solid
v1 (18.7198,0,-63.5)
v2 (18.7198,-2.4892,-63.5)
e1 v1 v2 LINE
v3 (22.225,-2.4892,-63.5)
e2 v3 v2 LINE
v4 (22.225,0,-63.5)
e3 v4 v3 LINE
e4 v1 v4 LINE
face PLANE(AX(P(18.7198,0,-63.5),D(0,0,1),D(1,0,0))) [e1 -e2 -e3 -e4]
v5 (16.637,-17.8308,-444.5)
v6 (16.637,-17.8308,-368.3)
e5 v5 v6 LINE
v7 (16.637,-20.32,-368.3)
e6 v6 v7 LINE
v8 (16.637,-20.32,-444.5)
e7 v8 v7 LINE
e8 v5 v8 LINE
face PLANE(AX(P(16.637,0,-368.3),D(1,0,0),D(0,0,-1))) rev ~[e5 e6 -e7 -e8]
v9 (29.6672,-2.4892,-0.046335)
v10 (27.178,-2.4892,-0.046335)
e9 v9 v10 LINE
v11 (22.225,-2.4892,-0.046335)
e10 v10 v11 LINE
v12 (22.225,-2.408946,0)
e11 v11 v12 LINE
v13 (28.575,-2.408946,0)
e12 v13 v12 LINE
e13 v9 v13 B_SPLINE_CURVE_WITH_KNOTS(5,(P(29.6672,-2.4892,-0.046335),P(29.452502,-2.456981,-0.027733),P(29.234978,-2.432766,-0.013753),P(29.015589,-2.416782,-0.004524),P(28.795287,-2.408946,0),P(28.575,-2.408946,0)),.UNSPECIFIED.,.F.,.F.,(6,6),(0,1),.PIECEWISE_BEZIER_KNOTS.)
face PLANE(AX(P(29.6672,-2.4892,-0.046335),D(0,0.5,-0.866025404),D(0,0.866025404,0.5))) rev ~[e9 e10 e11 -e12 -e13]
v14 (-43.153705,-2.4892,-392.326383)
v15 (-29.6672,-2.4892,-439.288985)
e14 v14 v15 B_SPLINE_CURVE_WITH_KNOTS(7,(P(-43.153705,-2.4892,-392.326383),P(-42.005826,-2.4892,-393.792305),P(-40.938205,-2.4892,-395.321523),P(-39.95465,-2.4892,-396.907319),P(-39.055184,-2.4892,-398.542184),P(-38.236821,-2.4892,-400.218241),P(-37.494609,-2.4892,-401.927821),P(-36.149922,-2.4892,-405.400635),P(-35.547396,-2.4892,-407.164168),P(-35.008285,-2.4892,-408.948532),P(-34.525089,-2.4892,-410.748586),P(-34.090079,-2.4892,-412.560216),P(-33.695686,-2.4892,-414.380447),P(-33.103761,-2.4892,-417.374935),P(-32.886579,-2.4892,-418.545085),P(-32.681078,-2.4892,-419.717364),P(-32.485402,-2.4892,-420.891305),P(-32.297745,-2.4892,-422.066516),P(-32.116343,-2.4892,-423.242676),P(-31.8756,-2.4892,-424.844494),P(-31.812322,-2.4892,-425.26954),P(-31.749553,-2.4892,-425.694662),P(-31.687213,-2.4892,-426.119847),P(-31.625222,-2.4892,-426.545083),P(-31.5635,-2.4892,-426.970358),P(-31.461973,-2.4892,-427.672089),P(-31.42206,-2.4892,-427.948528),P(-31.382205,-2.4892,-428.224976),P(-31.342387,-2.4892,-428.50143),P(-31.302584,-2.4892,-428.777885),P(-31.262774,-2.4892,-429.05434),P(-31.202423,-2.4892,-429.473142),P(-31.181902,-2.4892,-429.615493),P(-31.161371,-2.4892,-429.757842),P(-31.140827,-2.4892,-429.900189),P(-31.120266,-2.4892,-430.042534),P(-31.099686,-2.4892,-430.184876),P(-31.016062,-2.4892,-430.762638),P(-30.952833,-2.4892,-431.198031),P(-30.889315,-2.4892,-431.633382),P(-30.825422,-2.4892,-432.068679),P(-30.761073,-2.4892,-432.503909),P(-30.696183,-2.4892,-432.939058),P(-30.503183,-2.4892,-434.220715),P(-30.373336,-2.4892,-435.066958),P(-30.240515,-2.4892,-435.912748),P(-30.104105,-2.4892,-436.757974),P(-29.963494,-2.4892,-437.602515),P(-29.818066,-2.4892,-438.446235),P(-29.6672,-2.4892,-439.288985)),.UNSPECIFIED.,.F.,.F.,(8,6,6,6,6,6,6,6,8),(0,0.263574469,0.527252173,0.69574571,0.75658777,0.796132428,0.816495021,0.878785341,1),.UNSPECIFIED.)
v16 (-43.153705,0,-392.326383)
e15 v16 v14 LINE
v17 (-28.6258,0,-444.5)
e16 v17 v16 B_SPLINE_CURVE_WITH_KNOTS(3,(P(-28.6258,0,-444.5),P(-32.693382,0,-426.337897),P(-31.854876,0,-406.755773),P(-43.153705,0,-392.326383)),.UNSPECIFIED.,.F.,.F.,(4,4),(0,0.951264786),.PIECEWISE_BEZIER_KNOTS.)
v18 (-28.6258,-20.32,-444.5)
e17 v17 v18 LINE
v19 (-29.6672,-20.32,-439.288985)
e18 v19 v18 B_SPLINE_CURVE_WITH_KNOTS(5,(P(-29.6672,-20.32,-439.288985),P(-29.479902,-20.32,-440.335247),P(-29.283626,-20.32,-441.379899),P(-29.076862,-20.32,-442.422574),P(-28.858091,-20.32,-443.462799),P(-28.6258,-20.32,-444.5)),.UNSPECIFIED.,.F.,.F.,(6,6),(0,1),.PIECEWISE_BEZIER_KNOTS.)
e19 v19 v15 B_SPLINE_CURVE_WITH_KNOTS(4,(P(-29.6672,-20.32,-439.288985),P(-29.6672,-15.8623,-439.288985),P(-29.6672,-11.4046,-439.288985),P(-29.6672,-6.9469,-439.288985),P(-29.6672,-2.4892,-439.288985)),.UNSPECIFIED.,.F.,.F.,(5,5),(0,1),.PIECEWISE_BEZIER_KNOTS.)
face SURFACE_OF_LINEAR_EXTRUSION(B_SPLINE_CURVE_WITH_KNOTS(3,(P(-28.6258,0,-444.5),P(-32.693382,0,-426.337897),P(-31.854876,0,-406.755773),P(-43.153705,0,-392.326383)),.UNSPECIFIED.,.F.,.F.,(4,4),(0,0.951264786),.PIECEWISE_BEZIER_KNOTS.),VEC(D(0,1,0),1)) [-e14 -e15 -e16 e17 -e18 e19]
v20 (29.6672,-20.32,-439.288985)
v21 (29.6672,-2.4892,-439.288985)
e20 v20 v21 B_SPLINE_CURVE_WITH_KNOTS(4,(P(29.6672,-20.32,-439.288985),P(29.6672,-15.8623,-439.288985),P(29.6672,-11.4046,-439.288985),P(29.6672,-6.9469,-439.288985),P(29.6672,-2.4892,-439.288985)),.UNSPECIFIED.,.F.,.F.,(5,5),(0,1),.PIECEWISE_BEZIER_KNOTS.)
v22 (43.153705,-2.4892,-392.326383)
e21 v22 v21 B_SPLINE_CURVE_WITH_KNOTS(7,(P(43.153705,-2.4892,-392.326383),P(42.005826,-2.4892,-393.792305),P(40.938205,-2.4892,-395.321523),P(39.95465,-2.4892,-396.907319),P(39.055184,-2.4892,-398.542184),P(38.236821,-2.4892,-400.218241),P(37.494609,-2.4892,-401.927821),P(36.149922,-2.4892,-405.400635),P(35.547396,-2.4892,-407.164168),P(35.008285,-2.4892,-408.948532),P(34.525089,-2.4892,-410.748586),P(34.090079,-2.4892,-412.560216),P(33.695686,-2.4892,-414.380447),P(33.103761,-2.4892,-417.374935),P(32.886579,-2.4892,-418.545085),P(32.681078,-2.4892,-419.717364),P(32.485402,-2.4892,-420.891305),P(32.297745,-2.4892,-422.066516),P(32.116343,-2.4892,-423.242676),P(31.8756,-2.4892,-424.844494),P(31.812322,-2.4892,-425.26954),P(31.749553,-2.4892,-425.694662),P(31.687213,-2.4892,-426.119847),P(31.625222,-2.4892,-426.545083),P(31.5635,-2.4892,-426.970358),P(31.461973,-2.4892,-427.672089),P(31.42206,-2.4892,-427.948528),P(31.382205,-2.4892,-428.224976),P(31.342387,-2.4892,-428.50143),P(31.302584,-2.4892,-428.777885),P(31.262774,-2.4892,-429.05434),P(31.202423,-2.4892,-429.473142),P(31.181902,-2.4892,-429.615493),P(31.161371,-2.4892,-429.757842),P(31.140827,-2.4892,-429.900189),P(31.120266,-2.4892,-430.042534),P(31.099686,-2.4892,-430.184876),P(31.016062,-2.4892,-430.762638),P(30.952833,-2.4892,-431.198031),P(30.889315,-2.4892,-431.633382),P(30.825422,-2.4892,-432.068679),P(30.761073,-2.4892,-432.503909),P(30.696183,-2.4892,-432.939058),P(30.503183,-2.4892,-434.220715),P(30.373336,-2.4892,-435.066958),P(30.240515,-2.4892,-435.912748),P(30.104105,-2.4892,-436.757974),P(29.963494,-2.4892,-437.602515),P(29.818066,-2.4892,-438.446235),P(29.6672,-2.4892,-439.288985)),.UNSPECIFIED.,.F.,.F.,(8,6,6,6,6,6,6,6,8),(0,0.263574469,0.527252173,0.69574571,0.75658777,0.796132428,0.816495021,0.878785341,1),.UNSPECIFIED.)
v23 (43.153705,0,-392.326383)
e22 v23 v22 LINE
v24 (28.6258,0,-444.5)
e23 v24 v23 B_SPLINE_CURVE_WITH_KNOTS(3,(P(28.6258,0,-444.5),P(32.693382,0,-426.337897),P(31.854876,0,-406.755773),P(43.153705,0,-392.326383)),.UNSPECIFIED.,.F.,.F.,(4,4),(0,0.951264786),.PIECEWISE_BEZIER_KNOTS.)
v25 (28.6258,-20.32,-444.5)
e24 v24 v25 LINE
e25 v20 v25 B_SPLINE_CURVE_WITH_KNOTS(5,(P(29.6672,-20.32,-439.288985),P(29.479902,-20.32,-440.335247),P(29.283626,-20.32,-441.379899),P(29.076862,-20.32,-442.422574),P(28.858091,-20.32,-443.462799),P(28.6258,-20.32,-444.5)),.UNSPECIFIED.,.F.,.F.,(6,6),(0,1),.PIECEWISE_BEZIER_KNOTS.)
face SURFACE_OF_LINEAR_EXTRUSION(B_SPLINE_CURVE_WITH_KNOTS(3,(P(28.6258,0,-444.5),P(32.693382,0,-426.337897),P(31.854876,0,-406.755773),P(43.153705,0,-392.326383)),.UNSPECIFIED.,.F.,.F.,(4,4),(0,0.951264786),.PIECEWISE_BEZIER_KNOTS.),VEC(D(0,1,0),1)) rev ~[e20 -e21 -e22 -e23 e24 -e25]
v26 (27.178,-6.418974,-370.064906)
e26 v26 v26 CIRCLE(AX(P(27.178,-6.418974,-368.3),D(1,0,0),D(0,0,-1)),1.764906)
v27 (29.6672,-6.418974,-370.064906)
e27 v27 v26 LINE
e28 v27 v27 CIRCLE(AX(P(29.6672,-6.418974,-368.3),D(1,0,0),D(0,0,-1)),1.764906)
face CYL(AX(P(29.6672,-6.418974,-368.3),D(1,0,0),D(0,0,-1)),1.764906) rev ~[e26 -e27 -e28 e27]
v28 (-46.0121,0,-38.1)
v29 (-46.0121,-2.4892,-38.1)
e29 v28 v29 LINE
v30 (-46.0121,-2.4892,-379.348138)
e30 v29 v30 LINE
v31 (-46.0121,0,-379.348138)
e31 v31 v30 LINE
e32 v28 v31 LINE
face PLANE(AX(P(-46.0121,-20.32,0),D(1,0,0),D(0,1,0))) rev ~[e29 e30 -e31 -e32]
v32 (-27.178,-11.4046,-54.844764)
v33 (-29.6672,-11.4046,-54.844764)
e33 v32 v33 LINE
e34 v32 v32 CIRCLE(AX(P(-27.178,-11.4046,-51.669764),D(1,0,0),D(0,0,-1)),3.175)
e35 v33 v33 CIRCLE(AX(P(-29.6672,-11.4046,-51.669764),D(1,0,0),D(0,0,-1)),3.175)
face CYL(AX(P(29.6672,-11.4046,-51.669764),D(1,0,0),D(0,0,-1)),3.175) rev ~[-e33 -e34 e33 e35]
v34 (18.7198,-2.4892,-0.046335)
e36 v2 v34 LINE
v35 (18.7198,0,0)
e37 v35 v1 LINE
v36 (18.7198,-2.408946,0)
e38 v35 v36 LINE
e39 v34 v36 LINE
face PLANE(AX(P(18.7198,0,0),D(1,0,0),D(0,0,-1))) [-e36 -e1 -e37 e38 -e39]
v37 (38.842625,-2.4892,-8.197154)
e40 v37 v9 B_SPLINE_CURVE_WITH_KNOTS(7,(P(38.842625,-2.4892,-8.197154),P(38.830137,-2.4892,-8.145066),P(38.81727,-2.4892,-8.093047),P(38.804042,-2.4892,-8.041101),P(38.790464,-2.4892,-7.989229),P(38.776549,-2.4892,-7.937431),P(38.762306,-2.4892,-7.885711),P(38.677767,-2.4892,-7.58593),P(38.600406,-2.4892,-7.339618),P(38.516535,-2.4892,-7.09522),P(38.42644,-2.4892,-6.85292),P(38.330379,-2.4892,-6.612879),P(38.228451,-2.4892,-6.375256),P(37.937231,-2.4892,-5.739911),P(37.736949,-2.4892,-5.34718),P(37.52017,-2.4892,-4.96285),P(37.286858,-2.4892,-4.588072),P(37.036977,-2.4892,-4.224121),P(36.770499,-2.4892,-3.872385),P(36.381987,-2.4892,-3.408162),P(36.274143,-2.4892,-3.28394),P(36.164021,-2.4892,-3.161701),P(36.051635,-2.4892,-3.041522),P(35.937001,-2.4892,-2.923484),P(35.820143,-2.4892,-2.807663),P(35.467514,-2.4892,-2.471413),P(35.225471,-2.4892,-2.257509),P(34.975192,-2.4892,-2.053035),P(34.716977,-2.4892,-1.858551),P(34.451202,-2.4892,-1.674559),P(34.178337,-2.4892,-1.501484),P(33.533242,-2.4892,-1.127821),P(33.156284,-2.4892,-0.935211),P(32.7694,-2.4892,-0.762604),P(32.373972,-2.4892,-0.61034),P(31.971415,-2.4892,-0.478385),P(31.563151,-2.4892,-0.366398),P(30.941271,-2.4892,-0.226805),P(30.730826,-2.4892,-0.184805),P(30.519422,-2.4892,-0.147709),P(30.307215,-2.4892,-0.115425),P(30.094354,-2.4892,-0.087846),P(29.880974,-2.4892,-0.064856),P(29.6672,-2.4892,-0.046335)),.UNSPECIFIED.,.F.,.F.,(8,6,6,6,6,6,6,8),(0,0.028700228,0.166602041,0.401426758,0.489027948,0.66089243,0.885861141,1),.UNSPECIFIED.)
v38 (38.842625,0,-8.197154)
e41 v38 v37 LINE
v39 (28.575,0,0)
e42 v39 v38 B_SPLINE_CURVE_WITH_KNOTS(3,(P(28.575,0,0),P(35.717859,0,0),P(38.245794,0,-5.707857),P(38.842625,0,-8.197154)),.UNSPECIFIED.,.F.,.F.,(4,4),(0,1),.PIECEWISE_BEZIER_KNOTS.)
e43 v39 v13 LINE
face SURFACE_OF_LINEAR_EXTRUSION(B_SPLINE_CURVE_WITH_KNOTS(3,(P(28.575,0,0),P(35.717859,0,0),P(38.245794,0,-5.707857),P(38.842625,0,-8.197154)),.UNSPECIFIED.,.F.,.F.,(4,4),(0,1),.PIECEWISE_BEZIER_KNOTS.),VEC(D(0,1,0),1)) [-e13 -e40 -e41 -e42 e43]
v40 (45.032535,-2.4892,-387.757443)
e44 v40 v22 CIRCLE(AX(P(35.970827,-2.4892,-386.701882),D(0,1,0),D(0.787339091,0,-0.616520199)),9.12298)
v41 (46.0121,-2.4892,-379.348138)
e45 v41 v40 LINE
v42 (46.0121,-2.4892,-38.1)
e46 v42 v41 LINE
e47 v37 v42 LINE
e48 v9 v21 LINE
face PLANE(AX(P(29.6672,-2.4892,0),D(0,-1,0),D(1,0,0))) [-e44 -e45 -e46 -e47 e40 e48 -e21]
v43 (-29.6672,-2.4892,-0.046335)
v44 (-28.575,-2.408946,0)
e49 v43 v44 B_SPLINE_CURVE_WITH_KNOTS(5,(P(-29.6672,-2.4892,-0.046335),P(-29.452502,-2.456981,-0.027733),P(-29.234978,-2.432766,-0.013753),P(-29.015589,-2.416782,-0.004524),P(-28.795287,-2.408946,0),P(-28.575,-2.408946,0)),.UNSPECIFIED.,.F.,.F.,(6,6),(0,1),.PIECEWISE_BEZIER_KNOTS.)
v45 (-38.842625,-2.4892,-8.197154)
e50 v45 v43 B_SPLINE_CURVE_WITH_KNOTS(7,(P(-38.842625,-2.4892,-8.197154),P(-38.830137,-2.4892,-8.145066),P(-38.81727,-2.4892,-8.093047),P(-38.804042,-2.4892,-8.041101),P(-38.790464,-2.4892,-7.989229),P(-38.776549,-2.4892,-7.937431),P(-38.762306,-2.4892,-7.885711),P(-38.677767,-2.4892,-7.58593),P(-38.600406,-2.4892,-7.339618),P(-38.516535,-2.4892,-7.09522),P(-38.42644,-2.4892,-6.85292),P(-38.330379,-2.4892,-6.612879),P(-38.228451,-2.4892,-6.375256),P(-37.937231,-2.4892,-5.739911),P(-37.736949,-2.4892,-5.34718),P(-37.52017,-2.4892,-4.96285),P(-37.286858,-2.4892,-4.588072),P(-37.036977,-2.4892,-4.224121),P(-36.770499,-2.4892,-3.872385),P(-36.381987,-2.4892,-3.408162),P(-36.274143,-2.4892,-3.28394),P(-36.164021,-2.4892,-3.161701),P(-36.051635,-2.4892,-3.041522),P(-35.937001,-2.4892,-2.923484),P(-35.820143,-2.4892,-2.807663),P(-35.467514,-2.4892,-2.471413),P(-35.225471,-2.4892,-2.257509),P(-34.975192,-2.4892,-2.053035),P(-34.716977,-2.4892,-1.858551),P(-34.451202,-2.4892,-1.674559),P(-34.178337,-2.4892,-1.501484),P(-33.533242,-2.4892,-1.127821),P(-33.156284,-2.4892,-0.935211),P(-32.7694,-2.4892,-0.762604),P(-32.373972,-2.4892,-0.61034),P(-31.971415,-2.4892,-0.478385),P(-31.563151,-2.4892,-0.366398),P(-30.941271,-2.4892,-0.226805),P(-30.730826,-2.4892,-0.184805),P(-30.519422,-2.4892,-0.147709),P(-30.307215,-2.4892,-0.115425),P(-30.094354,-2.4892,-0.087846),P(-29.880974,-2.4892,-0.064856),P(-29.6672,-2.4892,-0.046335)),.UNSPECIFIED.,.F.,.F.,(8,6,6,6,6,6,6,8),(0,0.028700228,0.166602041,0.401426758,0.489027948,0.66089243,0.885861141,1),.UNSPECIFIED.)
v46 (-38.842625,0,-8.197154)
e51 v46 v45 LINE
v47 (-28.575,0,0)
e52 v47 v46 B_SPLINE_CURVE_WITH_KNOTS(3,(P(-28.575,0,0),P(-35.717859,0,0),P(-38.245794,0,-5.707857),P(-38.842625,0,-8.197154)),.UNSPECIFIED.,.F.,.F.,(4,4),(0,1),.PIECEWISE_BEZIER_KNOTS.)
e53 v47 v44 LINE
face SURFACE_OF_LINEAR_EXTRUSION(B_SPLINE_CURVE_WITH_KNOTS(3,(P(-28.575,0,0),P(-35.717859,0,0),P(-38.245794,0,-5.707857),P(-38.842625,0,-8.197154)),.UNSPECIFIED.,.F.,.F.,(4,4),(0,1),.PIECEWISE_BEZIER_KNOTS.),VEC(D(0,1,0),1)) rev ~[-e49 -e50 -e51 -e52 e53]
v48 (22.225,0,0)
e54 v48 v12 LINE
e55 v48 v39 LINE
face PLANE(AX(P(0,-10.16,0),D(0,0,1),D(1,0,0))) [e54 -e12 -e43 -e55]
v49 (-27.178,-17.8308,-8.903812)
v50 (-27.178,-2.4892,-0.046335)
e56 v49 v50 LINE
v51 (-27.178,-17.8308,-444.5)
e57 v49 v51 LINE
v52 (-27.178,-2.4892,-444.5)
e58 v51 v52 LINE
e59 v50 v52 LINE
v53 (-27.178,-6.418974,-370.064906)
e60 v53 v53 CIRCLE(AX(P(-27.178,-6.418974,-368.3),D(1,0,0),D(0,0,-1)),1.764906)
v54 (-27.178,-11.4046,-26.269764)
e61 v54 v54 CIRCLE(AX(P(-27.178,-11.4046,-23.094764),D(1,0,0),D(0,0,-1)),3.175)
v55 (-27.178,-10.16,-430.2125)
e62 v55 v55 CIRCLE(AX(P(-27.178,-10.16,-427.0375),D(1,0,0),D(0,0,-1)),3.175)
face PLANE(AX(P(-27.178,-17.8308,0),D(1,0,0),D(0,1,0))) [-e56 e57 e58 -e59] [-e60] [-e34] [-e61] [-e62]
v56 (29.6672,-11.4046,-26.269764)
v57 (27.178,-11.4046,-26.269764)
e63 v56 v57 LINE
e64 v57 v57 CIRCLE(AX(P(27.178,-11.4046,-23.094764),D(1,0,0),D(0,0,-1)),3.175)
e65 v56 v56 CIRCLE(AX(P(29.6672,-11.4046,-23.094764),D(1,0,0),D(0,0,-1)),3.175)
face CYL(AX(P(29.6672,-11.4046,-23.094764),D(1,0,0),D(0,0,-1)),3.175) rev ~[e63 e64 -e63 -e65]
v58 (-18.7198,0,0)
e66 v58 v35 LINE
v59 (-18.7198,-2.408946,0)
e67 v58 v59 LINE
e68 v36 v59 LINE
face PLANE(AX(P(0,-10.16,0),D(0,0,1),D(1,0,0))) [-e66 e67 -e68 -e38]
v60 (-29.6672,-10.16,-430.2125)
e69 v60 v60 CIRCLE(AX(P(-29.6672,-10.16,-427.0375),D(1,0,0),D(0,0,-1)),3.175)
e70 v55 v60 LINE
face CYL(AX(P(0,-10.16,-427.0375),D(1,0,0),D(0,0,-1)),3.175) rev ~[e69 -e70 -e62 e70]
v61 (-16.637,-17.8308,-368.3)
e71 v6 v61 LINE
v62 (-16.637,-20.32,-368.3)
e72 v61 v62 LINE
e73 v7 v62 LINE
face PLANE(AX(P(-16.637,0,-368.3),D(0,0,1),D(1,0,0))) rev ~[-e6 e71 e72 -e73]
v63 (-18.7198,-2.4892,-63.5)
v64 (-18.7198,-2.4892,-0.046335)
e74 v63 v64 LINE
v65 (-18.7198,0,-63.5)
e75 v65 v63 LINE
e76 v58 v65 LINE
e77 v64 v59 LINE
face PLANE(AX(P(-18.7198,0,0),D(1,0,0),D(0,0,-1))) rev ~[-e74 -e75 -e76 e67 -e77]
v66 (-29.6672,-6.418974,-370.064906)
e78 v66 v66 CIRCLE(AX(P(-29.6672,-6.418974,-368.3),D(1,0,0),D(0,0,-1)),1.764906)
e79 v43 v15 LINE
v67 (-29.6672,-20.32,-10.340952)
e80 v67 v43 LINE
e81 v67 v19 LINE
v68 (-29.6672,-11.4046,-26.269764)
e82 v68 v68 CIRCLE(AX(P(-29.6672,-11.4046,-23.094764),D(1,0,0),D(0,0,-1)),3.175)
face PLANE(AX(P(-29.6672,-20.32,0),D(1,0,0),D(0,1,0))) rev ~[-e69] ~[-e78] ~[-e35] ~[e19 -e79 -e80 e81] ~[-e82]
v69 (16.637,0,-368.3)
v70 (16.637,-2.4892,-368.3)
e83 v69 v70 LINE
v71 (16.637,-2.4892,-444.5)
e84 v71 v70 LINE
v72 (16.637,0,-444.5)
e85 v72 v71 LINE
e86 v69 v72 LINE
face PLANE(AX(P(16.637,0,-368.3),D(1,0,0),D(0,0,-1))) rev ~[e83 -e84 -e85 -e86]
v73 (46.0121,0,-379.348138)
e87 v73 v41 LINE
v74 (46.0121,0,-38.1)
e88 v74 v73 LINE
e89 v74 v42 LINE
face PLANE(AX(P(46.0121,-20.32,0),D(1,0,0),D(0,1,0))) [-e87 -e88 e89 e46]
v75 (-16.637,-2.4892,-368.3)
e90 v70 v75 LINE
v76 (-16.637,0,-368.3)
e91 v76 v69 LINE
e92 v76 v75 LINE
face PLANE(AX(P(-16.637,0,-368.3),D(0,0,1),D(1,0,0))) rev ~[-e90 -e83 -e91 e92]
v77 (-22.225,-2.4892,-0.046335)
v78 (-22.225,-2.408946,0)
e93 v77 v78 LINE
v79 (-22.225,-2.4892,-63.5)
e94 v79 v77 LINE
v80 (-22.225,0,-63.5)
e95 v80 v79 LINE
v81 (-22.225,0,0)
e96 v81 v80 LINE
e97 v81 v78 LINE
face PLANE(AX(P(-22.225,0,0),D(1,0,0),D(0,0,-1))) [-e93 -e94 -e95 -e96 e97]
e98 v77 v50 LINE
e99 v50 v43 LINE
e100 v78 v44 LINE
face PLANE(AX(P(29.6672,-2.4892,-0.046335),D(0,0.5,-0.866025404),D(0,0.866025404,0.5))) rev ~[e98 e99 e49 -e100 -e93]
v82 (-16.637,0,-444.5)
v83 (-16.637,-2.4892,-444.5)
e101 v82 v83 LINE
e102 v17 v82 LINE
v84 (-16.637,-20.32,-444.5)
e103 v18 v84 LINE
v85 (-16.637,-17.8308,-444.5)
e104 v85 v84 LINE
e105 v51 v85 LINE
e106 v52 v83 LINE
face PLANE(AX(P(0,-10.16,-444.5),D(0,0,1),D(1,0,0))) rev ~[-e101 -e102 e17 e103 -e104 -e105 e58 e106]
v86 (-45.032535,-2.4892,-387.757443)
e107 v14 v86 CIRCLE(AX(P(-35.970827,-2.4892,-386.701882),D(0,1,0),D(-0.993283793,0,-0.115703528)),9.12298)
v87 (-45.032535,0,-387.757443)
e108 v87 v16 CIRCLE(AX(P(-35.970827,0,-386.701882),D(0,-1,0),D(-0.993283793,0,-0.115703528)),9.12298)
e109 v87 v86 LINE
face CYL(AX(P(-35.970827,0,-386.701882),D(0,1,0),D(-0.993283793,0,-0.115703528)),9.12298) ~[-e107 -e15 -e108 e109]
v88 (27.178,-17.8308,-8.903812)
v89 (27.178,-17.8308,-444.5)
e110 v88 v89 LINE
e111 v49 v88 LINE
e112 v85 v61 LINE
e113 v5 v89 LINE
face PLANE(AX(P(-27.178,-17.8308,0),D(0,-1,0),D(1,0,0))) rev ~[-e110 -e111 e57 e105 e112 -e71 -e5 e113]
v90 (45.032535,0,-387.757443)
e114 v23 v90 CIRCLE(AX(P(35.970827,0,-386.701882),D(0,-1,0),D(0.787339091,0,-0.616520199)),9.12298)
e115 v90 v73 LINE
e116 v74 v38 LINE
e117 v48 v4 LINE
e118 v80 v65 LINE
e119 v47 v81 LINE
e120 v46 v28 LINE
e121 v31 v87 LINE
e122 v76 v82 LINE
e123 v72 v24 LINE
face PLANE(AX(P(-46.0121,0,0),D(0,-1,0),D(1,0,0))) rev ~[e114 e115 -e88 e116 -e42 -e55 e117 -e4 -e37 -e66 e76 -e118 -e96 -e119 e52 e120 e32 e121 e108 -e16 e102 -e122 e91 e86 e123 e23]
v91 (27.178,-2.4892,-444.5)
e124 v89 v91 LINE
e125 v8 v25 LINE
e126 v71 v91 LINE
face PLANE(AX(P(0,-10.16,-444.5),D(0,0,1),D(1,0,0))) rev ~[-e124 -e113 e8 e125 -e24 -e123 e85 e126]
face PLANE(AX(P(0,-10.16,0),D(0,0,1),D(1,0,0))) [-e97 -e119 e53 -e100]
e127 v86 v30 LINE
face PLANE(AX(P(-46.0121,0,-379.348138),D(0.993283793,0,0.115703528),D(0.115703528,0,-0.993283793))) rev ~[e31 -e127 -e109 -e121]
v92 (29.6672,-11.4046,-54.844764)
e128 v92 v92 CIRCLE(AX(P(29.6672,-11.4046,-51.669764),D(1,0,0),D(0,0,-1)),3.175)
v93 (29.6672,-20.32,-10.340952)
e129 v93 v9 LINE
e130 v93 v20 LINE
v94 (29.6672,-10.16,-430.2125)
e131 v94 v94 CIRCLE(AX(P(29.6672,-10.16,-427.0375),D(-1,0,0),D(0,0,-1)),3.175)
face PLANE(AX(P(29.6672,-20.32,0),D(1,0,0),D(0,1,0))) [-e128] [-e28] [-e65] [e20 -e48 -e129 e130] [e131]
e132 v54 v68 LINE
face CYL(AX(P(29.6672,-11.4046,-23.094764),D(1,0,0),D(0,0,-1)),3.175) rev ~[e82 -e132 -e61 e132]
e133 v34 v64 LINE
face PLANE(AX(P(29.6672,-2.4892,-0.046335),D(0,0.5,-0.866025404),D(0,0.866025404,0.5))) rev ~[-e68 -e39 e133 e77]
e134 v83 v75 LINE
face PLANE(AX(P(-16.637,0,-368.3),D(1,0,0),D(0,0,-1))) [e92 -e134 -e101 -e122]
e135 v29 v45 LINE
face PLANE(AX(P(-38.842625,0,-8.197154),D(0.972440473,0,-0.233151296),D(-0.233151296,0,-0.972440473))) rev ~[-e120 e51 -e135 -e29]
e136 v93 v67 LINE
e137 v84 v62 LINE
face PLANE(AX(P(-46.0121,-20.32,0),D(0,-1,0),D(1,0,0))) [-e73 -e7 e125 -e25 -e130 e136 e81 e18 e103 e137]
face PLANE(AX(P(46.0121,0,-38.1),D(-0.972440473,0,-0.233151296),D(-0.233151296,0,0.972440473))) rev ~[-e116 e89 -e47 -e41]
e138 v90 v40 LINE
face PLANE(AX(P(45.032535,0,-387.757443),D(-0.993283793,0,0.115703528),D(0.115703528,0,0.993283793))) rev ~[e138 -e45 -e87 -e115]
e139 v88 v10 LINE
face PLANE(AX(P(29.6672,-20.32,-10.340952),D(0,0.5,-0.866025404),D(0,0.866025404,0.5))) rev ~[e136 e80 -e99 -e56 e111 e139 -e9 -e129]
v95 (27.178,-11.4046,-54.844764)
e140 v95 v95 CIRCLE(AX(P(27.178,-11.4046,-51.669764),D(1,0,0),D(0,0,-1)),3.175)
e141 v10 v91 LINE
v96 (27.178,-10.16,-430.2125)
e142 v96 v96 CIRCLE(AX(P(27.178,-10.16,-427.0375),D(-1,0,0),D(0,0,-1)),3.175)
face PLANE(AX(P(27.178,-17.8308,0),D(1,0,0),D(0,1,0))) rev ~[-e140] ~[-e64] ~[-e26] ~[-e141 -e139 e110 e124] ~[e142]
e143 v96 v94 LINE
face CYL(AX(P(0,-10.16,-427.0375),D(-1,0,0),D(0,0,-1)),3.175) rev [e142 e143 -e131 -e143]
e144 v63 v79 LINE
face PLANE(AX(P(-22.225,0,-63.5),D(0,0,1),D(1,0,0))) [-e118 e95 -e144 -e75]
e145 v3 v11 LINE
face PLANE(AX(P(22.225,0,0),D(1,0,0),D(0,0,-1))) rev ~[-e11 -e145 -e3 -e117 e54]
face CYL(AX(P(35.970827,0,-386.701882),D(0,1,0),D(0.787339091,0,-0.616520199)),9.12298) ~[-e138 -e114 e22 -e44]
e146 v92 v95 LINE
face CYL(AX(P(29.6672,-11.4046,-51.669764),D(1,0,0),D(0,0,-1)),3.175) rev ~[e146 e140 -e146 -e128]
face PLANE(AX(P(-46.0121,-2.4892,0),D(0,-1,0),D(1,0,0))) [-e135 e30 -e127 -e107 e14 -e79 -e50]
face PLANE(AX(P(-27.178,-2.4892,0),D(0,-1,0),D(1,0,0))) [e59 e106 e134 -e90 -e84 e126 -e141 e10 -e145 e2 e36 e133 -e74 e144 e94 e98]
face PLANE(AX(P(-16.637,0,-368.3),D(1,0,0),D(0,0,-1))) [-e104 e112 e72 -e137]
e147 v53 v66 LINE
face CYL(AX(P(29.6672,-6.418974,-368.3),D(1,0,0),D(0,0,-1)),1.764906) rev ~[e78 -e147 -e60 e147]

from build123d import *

# Parameters (mm, degrees)
SKETCH1_W               = 92.0242
SKETCH1_H               = 20.32
BOSS_EXTRUDE1_DEPTH     = 444.5
SKETCH2_W               = 54.356
SKETCH2_H               = 15.3416
SKETCH2_W_2             = 16.3449
SKETCH2_H_2             = 17.8308
CUT_EXTRUDE1_DEPTH      = 445.5
SKETCH3_W               = 33.274
SKETCH3_H               = 76.2
CUT_EXTRUDE2_DEPTH      = 21.32
SKETCH4_W               = 3.5052
SKETCH4_H               = 63.5
CUT_EXTRUDE3_DEPTH      = 12.7
CUT_EXTRUDE5_DEPTH      = 76.6793001
SKETCH6_R               = 3.175
CUT_EXTRUDE6_DEPTH      = 76.6793001
SKETCH7_R               = 1.764906423
CUT_EXTRUDE7_DEPTH      = 76.6793001
SKETCH9_R               = 3.175
CUT_EXTRUDE8_DEPTH      = 47.0121001
CUT_EXTRUDE8_DEPTH_BACK = 47.0121001


with BuildPart() as part:
    # Sketch1 → Boss-Extrude1 (new body)
    with BuildSketch(Plane.XY):
        with Locations((0, -10.16)):
            Rectangle(SKETCH1_W, SKETCH1_H)
    extrude(amount=-BOSS_EXTRUDE1_DEPTH)

    # Sketch2 → Cut-Extrude1 (cut, through all)
    with BuildSketch(Plane.XY):
        with Locations((0, -10.16)):
            Rectangle(SKETCH2_W, SKETCH2_H)
        with Locations((37.83965, -11.4046)):
            Rectangle(SKETCH2_W_2, SKETCH2_H_2)
        with Locations((-37.83965, -11.4046)):
            Rectangle(SKETCH2_W_2, SKETCH2_H_2)
    extrude(amount=-CUT_EXTRUDE1_DEPTH, mode=Mode.SUBTRACT)

    # Sketch3 → Cut-Extrude2 (cut, through all)
    with BuildSketch(Plane(origin=(0, 0, 0), x_dir=(1, 0, 0), z_dir=(0, 1, 0))):
        with BuildLine():
            Line((-46.0121, 0), (-28.575, 0))
            add(Edge.make_bspline(
                [(-28.575, 0), (-35.717859011, 0), (-38.245794082, 5.707856621), (-38.842625262, 8.197153509)],
                knots=[0, 0, 0, 0, 1, 1, 1, 1], degree=3))
            Line((-38.842625262, 8.197153509), (-46.0121, 38.1))
            Line((-46.0121, 38.1), (-46.0121, 0))
        make_face()
        with BuildLine():
            add(Edge.make_bspline(
                [(28.575, 0), (35.717859011, 0), (38.245794082, 5.707856621), (38.842625262, 8.197153509)],
                knots=[0, 0, 0, 0, 1, 1, 1, 1], degree=3))
            Line((28.575, 0), (46.0121, 0))
            Line((46.0121, 0), (46.0121, 38.1))
            Line((46.0121, 38.1), (38.842625262, 8.197153509))
        make_face()
        with BuildLine():
            Line((46.0121, 444.5), (28.6258, 444.5))
            add(Edge.make_bspline(
                [(28.6258, 444.5), (32.693382337, 426.337896511), (31.854875968, 406.755772808), (43.153705429, 392.326383256)],
                knots=[0, 0, 0, 0, 0.951264786, 0.951264786, 0.951264786, 0.951264786], degree=3))
            ThreePointArc((43.153705429, 392.326383256), (44.408270339, 390.171508327), (45.032534863, 387.757442695))
            Line((45.032534863, 387.757442695), (46.0121, 379.348138392))
            Line((46.0121, 379.348138392), (46.0121, 444.5))
        make_face()
        with Locations((0, 406.4)):
            Rectangle(SKETCH3_W, SKETCH3_H)
        with BuildLine():
            add(Edge.make_bspline(
                [(-28.6258, 444.5), (-32.693382337, 426.337896511), (-31.854875968, 406.755772808), (-43.153705429, 392.326383256)],
                knots=[0, 0, 0, 0, 0.951264786, 0.951264786, 0.951264786, 0.951264786], degree=3))
            Line((-28.6258, 444.5), (-46.0121, 444.5))
            Line((-46.0121, 444.5), (-46.0121, 379.348138392))
            Line((-46.0121, 379.348138392), (-45.032534863, 387.757442695))
            ThreePointArc((-45.032534863, 387.757442695), (-44.408270339, 390.171508327), (-43.153705429, 392.326383256))
        make_face()
    extrude(amount=-CUT_EXTRUDE2_DEPTH, mode=Mode.SUBTRACT)

    # Sketch4 → Cut-Extrude3 (cut)
    with BuildSketch(Plane(origin=(0, 0, 0), x_dir=(1, 0, 0), z_dir=(0, 1, 0))):
        with Locations((20.4724, 31.75)):
            Rectangle(SKETCH4_W, SKETCH4_H)
        with Locations((-20.4724, 31.75)):
            Rectangle(SKETCH4_W, SKETCH4_H)
    extrude(amount=-CUT_EXTRUDE3_DEPTH, mode=Mode.SUBTRACT)

    # Sketch5 → Cut-Extrude5 (cut, through all)
    with BuildSketch(Plane(origin=(29.6672, 0, 0), x_dir=(0, 0, -1), z_dir=(1, 0, 0))):
        Polygon((0.046334806, -2.4892), (-3.084672114, 2.933863065), (-3.084672114, -20.32), (0.046334806, -20.32), align=None)
        Polygon((10.340951986, -20.32), (0.046334806, -2.4892), (0.046334806, -20.32), align=None)
    extrude(amount=-CUT_EXTRUDE5_DEPTH, mode=Mode.SUBTRACT)

    # Sketch6 → Cut-Extrude6 (cut, through all)
    with BuildSketch(Plane(origin=(29.6672, 0, 0), x_dir=(0, 0, -1), z_dir=(1, 0, 0))):
        with Locations((23.09476437, -11.4046)):
            Circle(SKETCH6_R)
        with Locations((51.66976437, -11.4046)):
            Circle(SKETCH6_R)
    extrude(amount=-CUT_EXTRUDE6_DEPTH, mode=Mode.SUBTRACT)

    # Sketch7 → Cut-Extrude7 (cut, through all)
    with BuildSketch(Plane(origin=(29.6672, 0, 0), x_dir=(0, 0, -1), z_dir=(1, 0, 0))):
        with Locations((368.3, -6.418973604)):
            Circle(SKETCH7_R)
    extrude(amount=-CUT_EXTRUDE7_DEPTH, mode=Mode.SUBTRACT)

    # Sketch9 → Cut-Extrude8 (cut, two sides)
    with BuildSketch(Plane(origin=(0, 0, 0), x_dir=(0, 0, -1), z_dir=(1, 0, 0))) as cut_extrude8_sk:
        with Locations((427.0375, -10.16)):
            Circle(SKETCH9_R)
    extrude(amount=CUT_EXTRUDE8_DEPTH, mode=Mode.SUBTRACT)
    extrude(cut_extrude8_sk.sketch, amount=-CUT_EXTRUDE8_DEPTH_BACK, mode=Mode.SUBTRACT)


solid = part.part
